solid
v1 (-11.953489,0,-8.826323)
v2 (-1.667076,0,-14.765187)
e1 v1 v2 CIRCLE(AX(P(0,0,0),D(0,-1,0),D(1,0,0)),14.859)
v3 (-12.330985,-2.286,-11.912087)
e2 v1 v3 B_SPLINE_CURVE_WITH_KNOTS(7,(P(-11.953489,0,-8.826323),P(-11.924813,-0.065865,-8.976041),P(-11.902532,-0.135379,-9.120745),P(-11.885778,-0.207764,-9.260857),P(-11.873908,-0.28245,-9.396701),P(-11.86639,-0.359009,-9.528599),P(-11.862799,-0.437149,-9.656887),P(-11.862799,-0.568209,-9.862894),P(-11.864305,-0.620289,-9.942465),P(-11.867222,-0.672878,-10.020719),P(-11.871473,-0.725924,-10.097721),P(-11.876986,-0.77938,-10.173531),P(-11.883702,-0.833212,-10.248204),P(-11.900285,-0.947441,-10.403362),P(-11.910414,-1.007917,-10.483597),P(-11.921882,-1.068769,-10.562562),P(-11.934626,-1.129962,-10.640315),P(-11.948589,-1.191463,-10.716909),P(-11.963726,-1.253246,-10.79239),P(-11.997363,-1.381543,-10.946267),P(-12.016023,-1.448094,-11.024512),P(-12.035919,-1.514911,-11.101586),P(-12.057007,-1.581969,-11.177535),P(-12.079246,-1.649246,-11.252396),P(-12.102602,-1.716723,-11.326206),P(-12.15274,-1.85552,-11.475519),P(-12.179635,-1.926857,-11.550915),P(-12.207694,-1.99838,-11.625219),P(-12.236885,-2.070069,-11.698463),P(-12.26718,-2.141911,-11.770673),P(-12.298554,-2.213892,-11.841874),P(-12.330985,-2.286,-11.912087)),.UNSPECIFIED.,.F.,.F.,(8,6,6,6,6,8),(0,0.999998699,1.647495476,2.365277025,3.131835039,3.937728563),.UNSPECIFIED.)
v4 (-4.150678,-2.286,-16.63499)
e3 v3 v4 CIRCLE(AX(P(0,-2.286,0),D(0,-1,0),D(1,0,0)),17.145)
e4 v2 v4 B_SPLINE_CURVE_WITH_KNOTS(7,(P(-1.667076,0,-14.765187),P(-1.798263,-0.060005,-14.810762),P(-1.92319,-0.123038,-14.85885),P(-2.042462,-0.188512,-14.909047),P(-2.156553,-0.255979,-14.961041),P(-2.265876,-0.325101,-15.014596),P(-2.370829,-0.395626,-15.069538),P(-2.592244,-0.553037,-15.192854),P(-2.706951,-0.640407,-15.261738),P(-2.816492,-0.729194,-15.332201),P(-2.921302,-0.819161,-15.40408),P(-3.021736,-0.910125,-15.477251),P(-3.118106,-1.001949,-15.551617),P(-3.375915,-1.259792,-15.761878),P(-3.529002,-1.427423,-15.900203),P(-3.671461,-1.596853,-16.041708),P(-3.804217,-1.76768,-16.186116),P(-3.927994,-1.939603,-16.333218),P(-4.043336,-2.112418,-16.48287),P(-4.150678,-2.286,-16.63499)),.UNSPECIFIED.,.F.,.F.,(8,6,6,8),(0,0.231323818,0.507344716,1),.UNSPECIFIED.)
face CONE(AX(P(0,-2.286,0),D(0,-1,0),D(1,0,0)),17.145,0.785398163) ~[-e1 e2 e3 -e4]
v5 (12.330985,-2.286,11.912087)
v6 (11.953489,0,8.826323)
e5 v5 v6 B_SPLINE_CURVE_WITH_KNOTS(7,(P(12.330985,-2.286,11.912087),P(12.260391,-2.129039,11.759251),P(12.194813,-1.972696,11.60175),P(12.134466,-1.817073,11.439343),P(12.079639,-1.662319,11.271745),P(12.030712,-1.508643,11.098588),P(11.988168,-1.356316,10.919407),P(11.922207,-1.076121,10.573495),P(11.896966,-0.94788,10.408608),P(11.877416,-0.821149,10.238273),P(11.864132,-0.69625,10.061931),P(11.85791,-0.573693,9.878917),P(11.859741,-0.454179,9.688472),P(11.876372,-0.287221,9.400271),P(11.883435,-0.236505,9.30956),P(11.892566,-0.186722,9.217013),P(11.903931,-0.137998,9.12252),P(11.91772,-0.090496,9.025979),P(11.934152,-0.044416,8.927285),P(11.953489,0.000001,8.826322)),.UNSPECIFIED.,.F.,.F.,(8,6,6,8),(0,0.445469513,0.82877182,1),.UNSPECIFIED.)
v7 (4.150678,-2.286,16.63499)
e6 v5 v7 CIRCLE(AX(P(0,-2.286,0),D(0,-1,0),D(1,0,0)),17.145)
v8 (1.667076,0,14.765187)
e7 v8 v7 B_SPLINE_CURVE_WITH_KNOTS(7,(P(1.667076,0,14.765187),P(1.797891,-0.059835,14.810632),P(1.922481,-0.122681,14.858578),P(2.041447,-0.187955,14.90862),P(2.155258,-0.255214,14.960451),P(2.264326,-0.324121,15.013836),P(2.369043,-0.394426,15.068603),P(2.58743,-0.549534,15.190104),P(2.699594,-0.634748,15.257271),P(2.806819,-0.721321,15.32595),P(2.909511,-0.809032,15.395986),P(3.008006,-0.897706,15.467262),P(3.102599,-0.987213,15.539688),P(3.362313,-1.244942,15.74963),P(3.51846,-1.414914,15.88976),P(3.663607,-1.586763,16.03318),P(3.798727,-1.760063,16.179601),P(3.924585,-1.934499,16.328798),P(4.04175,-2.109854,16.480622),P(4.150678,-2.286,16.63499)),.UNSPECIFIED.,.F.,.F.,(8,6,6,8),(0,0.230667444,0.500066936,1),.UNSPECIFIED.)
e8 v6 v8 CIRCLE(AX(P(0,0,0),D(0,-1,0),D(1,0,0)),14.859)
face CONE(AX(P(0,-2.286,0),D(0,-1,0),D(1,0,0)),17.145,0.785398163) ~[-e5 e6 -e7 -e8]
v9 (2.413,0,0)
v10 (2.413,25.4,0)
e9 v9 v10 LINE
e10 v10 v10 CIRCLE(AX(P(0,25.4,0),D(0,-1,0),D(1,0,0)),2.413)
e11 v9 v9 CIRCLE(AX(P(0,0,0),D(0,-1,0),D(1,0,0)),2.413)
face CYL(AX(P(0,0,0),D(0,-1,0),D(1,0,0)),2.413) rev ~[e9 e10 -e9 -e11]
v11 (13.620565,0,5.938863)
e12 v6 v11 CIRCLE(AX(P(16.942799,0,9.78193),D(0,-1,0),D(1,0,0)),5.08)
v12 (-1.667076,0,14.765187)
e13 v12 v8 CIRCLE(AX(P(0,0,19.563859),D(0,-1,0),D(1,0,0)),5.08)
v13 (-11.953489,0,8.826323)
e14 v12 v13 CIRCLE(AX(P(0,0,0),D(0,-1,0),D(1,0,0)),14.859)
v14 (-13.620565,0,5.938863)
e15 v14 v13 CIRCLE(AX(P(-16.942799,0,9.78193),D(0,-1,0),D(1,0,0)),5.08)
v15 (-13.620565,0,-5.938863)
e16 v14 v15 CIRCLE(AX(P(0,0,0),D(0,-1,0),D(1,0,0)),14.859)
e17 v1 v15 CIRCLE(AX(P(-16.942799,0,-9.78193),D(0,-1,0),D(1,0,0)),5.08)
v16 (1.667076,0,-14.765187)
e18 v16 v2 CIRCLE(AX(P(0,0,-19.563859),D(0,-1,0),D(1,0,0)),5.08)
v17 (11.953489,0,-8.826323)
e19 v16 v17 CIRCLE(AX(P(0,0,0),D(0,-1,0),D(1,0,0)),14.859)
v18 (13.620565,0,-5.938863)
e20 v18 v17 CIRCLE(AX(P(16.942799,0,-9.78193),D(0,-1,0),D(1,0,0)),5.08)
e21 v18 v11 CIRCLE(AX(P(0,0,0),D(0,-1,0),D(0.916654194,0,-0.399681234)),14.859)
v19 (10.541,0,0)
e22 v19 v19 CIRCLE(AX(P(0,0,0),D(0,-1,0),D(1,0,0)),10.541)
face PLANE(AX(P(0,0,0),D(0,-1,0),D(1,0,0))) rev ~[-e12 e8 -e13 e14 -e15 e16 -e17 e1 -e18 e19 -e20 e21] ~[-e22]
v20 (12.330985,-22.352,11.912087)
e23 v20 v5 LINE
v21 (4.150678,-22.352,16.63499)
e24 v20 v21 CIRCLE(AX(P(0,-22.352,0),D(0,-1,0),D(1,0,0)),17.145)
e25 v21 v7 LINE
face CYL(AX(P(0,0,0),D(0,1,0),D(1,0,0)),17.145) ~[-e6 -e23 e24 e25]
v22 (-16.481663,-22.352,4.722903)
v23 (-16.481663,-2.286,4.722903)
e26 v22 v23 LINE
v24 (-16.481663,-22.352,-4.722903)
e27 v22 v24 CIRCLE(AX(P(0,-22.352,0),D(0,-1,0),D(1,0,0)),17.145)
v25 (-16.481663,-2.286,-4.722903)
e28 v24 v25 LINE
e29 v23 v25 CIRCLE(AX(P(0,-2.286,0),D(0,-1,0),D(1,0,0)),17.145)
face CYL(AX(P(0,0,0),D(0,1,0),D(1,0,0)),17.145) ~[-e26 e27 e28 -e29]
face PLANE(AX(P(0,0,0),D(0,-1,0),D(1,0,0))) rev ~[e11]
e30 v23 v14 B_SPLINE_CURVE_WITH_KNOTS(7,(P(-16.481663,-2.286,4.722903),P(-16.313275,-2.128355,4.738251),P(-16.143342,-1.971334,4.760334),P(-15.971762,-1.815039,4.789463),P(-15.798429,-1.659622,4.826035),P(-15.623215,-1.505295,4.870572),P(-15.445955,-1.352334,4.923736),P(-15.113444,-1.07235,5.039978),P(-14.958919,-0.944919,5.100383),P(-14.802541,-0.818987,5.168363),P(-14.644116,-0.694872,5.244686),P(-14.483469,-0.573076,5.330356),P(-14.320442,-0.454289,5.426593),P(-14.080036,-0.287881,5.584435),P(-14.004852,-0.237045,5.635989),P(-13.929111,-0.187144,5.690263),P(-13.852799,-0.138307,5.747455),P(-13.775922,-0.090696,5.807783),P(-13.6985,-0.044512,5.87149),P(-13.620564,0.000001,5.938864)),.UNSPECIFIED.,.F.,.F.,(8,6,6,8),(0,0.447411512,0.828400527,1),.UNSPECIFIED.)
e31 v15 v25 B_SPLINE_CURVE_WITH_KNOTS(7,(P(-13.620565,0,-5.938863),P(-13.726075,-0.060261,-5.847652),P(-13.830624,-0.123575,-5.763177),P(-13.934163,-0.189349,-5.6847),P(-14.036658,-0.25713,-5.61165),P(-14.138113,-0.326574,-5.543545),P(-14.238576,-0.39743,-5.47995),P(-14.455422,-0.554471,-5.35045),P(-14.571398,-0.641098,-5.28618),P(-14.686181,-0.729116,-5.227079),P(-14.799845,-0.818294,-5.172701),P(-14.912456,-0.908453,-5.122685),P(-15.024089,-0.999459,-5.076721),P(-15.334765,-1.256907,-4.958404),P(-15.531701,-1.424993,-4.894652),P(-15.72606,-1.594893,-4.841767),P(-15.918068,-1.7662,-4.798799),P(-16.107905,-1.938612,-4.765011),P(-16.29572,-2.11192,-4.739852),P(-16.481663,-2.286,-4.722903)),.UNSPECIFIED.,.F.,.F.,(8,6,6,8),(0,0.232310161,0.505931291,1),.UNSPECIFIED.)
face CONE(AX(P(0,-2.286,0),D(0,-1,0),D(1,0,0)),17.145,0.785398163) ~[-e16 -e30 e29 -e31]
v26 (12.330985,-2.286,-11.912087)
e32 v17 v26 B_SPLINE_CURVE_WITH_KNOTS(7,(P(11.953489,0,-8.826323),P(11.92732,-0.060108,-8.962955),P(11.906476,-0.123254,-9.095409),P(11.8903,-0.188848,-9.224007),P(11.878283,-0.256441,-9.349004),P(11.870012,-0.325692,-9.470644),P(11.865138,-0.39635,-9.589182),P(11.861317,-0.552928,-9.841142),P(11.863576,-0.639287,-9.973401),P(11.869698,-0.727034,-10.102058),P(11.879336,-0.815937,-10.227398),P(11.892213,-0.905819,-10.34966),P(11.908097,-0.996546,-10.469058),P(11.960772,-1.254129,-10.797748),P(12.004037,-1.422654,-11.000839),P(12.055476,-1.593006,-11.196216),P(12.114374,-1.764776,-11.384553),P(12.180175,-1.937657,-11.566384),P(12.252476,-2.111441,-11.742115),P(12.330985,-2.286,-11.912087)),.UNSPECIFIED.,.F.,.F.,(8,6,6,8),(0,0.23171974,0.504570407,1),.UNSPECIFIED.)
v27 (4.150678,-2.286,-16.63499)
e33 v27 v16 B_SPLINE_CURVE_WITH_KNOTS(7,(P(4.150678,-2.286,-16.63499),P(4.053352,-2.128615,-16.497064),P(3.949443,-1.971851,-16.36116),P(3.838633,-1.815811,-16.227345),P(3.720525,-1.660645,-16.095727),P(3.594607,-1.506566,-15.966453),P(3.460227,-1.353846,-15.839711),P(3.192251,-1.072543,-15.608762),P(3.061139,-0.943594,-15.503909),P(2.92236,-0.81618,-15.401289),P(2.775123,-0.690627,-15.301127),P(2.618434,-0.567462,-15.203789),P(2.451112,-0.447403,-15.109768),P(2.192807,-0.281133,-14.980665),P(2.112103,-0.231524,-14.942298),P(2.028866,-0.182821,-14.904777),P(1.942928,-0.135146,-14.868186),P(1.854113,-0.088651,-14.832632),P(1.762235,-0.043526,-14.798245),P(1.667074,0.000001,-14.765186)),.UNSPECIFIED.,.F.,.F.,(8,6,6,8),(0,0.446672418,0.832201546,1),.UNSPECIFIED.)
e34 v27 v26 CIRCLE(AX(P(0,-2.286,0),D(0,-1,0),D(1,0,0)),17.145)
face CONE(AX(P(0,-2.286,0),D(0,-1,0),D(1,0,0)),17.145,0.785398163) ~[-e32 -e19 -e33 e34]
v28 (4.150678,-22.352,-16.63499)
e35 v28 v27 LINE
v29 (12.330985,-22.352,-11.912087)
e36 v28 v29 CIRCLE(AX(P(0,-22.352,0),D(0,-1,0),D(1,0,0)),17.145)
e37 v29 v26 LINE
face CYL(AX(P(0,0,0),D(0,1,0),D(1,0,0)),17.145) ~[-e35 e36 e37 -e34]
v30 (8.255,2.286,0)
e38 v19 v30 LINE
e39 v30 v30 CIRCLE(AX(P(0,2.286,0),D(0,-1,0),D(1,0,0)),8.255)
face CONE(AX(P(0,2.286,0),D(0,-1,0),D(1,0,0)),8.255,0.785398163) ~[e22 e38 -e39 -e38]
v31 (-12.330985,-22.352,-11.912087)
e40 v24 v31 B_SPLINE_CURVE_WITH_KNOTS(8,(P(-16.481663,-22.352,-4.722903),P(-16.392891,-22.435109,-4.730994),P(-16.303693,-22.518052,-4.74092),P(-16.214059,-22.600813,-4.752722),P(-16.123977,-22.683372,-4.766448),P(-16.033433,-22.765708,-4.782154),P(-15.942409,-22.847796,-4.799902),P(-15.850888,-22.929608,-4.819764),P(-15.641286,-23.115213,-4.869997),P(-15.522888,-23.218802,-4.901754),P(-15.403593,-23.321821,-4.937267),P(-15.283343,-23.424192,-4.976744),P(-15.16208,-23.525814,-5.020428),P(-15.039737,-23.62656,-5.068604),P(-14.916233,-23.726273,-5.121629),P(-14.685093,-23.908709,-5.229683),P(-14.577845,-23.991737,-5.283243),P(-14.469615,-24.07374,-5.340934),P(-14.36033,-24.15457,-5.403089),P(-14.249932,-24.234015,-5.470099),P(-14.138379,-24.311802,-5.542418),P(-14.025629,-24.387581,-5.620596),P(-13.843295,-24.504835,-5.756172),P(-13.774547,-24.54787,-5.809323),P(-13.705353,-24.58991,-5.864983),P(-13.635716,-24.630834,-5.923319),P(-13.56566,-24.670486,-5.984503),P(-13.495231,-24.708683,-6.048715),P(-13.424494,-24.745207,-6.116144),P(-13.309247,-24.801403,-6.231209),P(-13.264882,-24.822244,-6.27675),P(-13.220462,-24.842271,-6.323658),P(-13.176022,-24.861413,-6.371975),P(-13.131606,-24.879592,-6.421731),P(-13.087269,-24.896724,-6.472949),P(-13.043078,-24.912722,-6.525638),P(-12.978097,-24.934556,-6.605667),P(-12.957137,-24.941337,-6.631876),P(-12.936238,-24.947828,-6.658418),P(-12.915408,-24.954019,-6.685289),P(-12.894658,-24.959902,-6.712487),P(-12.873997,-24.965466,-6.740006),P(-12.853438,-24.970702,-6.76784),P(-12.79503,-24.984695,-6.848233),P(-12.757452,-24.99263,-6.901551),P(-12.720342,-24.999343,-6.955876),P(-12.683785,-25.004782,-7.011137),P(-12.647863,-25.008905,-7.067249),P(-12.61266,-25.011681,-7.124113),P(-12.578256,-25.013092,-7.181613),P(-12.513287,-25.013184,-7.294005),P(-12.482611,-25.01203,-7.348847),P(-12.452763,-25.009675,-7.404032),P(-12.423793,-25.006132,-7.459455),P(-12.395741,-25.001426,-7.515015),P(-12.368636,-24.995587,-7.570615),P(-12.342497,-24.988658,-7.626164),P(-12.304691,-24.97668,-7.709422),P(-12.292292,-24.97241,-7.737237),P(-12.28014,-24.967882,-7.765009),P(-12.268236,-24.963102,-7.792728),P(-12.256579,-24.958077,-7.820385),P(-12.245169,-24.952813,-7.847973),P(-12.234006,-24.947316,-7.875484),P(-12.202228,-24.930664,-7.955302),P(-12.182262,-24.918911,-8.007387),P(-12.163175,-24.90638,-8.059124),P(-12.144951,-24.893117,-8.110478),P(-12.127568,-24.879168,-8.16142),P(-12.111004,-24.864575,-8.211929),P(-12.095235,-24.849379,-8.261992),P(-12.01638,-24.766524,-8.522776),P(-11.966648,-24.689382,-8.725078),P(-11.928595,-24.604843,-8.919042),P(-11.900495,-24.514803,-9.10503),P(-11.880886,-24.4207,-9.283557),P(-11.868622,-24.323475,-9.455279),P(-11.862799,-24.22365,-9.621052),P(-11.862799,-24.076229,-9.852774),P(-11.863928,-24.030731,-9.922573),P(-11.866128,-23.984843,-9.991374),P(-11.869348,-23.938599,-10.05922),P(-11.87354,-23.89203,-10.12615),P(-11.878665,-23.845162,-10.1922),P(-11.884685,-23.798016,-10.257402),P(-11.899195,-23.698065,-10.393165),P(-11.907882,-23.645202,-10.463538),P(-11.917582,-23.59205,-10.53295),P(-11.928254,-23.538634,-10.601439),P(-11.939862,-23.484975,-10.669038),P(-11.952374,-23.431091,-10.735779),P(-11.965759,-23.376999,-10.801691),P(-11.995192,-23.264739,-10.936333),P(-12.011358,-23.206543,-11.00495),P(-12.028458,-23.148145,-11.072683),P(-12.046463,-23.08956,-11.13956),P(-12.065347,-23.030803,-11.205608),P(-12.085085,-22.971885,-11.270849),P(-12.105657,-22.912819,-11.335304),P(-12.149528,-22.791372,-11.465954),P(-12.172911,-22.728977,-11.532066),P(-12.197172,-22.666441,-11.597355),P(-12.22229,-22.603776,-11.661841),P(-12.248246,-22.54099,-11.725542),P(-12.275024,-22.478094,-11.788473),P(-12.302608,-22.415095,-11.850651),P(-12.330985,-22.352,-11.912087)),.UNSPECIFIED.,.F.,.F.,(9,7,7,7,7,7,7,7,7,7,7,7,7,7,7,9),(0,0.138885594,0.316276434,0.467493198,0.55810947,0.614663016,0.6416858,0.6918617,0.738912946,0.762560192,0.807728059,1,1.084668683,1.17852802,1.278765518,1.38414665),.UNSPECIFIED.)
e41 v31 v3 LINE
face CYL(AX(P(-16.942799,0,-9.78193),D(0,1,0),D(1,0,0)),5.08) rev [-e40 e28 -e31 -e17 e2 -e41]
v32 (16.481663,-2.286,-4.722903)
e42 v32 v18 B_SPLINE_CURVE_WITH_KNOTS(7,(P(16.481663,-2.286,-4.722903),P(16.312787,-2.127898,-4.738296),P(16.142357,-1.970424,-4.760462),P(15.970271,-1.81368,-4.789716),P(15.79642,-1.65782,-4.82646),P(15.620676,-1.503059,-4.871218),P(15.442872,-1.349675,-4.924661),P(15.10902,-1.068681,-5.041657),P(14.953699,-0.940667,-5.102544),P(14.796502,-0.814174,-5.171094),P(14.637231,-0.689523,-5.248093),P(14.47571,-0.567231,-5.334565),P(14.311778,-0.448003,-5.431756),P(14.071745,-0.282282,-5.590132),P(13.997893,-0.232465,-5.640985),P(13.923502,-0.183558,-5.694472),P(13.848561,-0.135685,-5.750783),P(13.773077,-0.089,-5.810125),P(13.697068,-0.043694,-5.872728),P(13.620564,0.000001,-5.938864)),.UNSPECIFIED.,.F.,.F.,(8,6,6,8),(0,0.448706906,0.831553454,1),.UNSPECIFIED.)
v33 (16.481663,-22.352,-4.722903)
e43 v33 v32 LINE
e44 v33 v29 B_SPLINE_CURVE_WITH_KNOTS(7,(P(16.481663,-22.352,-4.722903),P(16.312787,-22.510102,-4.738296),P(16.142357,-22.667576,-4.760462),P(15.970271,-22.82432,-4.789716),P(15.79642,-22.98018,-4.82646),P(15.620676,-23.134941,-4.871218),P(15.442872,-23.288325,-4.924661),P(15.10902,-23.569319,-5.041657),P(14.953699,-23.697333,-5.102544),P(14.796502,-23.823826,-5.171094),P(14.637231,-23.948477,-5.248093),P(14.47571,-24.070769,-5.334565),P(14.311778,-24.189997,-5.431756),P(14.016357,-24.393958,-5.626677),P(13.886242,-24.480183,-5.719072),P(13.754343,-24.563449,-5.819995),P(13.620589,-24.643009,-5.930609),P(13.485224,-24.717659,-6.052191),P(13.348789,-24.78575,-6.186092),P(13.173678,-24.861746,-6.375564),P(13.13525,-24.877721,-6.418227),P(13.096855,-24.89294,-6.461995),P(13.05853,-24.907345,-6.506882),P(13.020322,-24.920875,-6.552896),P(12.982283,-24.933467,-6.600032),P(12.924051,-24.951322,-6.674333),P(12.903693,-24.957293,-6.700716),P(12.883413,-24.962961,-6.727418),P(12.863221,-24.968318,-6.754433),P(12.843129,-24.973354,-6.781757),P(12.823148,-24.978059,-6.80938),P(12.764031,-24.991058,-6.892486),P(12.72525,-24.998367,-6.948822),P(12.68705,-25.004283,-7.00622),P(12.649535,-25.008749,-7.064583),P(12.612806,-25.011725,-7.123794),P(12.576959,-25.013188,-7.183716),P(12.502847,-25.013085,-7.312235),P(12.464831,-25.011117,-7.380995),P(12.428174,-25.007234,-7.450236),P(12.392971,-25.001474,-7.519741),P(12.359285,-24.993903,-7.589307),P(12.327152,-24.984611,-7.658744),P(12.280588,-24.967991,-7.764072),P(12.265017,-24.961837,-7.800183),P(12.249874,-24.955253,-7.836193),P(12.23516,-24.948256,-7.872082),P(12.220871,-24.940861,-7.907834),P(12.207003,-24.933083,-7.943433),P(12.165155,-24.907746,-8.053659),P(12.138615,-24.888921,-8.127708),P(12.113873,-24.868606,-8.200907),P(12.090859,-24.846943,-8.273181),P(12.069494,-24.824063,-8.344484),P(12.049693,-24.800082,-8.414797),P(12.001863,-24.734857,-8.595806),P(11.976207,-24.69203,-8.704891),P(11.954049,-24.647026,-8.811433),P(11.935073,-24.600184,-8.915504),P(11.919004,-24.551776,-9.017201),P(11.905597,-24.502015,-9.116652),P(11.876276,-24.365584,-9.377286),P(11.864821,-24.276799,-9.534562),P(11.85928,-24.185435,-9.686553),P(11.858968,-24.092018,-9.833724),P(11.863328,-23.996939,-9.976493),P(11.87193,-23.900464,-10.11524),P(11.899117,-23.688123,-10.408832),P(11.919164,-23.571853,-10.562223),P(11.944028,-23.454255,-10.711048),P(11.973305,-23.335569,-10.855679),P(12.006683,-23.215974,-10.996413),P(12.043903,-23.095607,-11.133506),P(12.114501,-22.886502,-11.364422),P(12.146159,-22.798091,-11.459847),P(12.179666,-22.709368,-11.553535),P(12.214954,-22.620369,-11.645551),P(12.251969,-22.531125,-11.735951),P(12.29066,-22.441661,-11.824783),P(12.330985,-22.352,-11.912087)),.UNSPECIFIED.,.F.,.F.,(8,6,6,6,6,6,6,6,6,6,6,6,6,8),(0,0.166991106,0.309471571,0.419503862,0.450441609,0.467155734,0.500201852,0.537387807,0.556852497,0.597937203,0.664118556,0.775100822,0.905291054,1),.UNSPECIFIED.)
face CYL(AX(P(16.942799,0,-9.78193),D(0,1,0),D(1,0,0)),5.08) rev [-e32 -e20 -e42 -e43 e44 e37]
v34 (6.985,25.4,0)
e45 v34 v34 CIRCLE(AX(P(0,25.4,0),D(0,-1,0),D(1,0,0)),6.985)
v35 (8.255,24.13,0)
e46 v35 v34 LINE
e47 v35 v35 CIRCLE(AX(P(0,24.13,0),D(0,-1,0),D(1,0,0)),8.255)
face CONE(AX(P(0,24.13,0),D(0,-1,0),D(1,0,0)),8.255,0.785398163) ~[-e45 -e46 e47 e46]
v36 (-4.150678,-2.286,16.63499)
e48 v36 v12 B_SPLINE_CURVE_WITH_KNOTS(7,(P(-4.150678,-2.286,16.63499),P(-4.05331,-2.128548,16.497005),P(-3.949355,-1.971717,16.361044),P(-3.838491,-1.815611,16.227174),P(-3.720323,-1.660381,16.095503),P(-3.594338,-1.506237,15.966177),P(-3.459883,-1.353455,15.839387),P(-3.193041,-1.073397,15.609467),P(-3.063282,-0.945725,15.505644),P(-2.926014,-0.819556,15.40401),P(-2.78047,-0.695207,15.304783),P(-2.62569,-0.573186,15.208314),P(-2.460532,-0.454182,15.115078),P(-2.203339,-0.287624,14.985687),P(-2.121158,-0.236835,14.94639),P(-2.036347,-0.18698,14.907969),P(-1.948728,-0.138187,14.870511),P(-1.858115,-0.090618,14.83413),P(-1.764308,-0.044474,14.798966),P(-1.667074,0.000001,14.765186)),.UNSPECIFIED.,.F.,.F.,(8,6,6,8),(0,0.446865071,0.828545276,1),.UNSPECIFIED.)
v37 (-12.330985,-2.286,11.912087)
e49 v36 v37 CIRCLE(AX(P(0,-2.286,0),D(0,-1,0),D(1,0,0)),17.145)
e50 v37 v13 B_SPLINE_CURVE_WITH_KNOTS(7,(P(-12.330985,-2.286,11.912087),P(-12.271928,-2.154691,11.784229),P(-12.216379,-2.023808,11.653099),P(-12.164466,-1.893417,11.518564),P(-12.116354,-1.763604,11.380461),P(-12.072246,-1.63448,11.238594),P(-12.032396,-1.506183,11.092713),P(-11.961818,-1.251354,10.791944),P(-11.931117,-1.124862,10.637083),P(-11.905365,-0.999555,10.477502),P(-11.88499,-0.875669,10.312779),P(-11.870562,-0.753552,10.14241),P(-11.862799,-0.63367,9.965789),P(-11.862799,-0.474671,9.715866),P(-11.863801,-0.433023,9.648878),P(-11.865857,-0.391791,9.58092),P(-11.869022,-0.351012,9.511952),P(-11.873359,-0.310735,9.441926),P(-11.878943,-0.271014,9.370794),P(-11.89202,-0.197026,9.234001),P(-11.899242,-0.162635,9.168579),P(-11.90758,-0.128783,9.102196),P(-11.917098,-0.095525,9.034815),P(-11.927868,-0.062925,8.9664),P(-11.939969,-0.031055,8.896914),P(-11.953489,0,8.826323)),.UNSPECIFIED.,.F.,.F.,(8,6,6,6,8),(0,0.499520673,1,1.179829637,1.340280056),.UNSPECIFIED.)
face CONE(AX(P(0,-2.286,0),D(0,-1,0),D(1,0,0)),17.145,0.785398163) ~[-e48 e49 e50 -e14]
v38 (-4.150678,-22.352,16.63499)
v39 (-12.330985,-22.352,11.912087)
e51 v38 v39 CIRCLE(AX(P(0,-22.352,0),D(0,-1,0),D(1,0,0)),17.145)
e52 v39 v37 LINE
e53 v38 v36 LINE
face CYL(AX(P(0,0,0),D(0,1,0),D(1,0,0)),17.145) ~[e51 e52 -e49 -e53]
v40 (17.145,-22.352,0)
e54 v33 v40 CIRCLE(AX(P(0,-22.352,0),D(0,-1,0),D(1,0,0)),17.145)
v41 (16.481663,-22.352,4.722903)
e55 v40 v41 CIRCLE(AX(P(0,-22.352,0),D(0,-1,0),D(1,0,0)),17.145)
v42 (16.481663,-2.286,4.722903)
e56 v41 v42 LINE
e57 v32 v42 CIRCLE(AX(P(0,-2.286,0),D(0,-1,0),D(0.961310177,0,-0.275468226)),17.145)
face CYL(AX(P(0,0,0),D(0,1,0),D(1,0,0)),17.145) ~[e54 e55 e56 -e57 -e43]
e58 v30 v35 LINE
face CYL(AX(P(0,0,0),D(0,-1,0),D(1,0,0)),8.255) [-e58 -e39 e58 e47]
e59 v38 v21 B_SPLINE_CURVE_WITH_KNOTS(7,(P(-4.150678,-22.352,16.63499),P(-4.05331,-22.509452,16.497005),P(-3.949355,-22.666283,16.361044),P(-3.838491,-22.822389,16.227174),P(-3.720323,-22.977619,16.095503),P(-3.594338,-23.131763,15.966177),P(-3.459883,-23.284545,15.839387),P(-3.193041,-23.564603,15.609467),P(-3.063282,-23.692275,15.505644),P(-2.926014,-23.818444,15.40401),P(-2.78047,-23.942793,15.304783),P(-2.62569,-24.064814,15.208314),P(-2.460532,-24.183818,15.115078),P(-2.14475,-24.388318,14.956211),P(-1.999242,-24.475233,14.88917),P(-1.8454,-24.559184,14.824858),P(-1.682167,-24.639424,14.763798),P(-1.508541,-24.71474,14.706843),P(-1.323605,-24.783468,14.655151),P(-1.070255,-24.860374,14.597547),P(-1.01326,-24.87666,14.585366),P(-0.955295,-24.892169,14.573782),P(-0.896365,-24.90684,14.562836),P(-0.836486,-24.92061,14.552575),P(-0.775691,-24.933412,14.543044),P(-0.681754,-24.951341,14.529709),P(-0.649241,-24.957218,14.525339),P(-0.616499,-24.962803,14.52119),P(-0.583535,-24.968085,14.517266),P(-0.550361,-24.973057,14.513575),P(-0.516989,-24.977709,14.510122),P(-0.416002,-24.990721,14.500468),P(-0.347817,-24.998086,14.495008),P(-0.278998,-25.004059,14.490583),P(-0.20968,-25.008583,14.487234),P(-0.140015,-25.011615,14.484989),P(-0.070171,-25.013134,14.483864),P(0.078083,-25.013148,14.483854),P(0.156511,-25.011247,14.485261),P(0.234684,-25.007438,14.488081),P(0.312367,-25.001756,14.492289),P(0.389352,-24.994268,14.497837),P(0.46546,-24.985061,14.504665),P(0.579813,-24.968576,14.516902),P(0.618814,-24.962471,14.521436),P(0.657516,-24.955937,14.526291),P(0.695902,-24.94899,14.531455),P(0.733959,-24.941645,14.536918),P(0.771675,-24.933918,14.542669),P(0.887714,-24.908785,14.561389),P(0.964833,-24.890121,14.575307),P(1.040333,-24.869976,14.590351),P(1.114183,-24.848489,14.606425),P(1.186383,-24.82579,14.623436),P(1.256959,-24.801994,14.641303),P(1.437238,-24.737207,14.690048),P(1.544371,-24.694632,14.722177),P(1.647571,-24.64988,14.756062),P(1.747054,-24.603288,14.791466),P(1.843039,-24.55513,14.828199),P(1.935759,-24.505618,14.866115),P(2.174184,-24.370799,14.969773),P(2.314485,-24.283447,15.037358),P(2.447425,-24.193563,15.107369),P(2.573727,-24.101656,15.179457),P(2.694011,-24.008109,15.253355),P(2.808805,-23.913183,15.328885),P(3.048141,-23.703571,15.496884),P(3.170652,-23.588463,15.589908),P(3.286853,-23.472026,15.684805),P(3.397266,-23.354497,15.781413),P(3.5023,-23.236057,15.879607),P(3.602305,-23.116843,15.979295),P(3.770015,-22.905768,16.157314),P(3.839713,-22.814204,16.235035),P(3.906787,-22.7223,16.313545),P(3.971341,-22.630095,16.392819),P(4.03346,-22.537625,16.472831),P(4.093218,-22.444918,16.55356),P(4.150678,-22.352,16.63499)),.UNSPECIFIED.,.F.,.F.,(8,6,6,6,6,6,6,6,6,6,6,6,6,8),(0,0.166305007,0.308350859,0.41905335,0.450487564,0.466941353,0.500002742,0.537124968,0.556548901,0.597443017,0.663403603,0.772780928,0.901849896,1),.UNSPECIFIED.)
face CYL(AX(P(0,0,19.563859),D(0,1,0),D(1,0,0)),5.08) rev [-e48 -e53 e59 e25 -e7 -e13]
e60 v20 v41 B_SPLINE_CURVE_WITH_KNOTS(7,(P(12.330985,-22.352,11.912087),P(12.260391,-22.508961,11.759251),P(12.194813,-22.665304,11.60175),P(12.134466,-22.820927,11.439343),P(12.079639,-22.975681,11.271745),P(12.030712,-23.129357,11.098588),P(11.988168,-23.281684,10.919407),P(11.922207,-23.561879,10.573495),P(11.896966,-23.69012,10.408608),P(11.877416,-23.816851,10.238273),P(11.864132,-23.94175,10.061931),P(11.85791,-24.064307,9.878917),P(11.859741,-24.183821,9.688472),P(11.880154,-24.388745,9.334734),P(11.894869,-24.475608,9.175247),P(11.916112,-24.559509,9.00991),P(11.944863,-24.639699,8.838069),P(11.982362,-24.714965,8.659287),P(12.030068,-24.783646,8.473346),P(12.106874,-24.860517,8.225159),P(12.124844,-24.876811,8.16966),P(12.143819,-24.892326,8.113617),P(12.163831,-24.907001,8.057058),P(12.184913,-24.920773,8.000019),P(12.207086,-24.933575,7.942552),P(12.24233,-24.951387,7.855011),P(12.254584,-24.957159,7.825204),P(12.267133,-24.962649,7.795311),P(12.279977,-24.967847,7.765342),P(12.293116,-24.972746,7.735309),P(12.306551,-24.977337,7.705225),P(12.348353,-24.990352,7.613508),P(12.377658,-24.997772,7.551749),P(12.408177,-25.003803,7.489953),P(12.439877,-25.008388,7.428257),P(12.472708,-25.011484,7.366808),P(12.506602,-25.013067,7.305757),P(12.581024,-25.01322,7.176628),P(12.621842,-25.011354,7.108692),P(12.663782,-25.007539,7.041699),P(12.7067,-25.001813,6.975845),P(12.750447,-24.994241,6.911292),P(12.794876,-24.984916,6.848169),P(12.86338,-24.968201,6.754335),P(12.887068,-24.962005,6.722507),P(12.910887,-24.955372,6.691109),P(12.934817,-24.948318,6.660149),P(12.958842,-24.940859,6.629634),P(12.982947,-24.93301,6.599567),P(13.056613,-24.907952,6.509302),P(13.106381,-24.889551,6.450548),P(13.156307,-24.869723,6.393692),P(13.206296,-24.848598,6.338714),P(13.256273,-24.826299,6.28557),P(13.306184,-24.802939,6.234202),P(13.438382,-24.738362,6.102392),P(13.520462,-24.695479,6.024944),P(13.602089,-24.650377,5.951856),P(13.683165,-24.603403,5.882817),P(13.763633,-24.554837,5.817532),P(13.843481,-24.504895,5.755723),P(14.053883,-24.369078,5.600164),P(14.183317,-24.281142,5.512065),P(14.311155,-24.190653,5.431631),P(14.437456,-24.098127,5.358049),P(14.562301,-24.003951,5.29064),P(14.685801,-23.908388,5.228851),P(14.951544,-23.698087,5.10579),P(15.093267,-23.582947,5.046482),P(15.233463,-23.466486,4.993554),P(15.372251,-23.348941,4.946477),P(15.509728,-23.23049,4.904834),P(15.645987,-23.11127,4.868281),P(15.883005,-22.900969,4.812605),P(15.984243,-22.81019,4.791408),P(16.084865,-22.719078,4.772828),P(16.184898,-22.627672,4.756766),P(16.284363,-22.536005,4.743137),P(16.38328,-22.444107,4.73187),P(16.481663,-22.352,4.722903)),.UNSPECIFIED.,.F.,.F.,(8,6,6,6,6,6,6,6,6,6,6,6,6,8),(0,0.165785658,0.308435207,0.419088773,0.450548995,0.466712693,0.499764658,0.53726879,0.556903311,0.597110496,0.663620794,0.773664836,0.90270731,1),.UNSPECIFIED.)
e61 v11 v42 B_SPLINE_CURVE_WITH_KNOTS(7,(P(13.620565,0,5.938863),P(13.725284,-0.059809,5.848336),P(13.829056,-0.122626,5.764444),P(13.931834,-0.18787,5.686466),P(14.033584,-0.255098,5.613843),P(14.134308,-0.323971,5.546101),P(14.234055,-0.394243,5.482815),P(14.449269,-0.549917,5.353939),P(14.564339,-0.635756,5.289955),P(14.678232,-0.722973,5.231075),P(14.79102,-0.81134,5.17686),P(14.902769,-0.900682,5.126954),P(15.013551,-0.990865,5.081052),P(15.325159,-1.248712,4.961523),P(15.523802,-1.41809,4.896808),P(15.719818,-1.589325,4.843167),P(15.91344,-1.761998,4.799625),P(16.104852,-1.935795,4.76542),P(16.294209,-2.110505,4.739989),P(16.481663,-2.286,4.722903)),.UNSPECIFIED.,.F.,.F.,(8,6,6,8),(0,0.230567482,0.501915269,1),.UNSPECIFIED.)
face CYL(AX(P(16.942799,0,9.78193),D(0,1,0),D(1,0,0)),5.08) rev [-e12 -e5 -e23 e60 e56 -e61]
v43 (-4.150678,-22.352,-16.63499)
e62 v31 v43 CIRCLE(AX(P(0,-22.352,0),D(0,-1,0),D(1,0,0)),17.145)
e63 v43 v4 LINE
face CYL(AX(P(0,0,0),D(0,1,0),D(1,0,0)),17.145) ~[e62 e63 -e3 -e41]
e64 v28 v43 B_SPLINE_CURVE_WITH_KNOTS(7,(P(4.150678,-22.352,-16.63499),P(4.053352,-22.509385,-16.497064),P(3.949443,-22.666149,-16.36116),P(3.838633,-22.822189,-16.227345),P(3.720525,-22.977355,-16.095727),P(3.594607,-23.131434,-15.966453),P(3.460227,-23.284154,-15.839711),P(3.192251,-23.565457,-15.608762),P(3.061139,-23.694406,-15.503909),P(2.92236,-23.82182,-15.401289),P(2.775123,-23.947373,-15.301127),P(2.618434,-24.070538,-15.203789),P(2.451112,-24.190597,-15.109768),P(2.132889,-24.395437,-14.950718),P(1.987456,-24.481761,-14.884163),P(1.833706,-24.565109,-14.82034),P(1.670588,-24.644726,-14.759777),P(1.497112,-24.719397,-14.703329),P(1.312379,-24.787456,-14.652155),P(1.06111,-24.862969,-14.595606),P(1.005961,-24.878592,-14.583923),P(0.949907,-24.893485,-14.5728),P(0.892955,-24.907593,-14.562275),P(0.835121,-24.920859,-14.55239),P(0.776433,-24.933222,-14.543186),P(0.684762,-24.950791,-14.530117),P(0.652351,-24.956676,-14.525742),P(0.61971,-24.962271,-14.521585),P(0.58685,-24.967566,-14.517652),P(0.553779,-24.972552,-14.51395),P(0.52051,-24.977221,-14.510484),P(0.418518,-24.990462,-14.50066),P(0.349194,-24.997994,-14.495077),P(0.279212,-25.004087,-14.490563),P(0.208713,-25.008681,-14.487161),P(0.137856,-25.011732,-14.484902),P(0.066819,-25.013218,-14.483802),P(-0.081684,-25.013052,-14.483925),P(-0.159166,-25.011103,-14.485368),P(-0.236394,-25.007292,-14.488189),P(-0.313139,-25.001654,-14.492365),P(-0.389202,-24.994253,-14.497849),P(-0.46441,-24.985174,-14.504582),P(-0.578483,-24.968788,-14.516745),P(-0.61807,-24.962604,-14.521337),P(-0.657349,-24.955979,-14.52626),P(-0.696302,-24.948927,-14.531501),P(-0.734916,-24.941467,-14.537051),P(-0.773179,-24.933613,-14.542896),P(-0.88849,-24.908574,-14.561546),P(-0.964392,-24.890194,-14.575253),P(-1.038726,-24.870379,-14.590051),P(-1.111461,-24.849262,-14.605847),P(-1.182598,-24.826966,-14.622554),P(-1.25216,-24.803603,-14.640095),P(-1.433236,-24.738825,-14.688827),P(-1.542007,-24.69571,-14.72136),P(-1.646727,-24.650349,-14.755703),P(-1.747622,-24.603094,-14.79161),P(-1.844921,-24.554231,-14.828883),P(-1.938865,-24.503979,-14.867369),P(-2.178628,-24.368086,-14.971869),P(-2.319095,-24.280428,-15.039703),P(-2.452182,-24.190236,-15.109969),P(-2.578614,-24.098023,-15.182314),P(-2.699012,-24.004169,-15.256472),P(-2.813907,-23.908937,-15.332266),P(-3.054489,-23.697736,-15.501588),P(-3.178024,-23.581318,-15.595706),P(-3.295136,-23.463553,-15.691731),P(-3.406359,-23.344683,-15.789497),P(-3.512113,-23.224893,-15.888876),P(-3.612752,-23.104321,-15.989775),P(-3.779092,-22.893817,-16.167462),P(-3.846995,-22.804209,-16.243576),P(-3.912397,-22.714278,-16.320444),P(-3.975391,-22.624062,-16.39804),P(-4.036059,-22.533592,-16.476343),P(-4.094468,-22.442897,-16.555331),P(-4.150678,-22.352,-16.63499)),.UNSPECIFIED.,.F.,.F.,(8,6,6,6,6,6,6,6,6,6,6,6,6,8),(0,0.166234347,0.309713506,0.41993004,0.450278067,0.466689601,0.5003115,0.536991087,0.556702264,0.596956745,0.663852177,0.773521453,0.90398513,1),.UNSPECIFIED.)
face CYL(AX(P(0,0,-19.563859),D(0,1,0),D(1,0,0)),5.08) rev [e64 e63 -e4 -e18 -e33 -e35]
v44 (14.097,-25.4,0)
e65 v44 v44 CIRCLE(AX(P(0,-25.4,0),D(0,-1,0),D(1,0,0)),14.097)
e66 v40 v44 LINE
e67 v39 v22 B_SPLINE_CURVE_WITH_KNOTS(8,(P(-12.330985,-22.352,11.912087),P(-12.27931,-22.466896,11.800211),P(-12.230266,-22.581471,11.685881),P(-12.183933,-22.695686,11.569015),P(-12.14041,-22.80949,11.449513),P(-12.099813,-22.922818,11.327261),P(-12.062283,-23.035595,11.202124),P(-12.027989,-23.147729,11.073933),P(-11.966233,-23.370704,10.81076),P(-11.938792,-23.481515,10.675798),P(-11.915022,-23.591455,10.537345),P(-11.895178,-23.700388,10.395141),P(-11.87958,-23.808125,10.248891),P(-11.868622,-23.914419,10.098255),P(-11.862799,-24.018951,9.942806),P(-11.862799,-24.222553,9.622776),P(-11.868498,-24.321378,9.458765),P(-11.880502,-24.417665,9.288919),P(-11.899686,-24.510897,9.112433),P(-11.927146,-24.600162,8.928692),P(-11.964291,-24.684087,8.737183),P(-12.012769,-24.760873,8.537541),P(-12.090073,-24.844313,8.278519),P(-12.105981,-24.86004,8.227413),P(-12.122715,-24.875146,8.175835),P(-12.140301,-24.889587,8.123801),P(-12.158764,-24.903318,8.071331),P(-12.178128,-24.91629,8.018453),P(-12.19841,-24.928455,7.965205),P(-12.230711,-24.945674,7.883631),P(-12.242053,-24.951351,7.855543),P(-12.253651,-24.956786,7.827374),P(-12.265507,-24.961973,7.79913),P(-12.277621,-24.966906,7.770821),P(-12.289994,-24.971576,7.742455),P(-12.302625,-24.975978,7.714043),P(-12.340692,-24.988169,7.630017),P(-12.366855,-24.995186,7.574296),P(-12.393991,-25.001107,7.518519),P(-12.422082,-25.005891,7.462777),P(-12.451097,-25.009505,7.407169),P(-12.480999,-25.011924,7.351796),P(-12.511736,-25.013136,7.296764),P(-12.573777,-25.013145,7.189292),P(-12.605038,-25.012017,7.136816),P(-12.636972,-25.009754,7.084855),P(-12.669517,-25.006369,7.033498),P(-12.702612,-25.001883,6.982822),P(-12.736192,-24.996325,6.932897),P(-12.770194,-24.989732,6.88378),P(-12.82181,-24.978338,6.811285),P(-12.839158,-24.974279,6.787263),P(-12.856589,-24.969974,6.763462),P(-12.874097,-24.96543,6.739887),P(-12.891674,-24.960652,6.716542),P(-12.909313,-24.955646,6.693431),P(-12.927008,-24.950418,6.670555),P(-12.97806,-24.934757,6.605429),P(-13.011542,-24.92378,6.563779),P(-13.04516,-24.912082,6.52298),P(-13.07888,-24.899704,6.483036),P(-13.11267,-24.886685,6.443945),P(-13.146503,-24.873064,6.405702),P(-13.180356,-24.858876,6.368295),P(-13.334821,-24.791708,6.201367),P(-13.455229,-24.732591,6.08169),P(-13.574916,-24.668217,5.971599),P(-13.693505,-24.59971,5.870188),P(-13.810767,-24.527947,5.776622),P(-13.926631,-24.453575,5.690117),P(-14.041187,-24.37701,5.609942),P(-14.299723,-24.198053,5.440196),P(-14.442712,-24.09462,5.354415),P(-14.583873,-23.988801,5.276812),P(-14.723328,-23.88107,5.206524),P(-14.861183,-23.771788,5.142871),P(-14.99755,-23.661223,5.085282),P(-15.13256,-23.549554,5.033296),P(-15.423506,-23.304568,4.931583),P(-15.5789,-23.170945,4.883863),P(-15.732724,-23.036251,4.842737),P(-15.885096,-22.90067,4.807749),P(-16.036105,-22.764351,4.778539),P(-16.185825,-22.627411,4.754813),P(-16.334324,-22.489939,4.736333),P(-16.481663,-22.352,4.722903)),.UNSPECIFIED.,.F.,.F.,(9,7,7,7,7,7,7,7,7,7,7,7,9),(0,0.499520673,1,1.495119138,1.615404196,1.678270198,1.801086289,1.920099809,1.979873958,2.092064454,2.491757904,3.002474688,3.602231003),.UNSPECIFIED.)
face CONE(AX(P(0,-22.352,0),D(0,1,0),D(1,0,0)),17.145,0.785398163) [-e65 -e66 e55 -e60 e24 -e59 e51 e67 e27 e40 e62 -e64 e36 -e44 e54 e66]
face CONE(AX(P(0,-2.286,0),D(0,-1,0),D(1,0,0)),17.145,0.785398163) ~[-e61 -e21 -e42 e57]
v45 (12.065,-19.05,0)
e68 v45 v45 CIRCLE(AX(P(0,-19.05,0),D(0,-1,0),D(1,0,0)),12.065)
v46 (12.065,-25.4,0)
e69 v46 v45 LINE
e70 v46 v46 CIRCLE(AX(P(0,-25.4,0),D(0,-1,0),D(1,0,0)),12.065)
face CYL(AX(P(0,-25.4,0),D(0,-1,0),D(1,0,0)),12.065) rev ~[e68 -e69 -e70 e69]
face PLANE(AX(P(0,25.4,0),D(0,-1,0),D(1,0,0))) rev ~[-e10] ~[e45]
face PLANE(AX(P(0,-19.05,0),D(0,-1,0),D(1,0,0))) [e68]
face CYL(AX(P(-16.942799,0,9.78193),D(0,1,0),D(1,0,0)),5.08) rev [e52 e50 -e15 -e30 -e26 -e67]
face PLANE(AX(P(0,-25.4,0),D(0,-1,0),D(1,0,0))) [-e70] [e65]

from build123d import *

# Parameters (mm, degrees)
F0_R      = 17.145
F5_DEPTH  = 25.4
F1_R      = 8.255
F6_DEPTH  = 25.4
F2_R      = 2.413
F7_DEPTH  = 25.4
F9_SIZE   = 3.048
F10_SIZE  = 2.286
F8_R      = 5.08
F11_DEPTH = 25.4
F4_R      = 12.065
F12_DEPTH = 6.35
F13_SIZE  = 1.27


with BuildPart() as f5:
    # F0 (on Front) → F5 (new body)
    with BuildSketch(Plane.XZ):
        Circle(F0_R)
    extrude(amount=F5_DEPTH)

    # F1 (on Front) → F6 (join)
    with BuildSketch(Plane.XZ):
        Circle(F1_R)
    extrude(amount=-F6_DEPTH)

    # F2 (on Front) → F7 (cut)
    with BuildSketch(Plane.XZ):
        Circle(F2_R)
    extrude(amount=-F7_DEPTH, mode=Mode.SUBTRACT)

    # F9
    f9_edges = [f5.edges().sort_by_distance(p)[0] for p in [
        (-17.145, -25.4, 0),
    ]]
    chamfer(f9_edges, length=F9_SIZE)

    # F10
    f10_edges = [f5.edges().sort_by_distance(p)[0] for p in [
        (-17.145, 0, 0),
        (-8.255, 0, 0),
    ]]
    chamfer(f10_edges, length=F10_SIZE)

    # F8 (on Front) → F11 (cut)
    with BuildSketch(Plane.XZ):
        with Locations((0, 19.5638593286)):
            Circle(F8_R)
        with Locations((-16.9427991747, 9.7819296643)):
            Circle(F8_R)
        with Locations((-16.9427991747, -9.7819296643)):
            Circle(F8_R)
        with Locations((0, -19.5638593286)):
            Circle(F8_R)
        with Locations((16.9427991747, -9.7819296643)):
            Circle(F8_R)
        with Locations((16.9427991747, 9.7819296643)):
            Circle(F8_R)
    extrude(amount=F11_DEPTH, mode=Mode.SUBTRACT)

    # F4 (on offset) → F12 (cut)
    with BuildSketch(Plane.XZ.offset(25.4)):
        Circle(F4_R)
    extrude(amount=-F12_DEPTH, mode=Mode.SUBTRACT)

    # F13
    f13_edges = [f5.edges().sort_by_distance(p)[0] for p in [
        (-8.255, 25.4, 0),
    ]]
    chamfer(f13_edges, length=F13_SIZE)


solid = f5.part
